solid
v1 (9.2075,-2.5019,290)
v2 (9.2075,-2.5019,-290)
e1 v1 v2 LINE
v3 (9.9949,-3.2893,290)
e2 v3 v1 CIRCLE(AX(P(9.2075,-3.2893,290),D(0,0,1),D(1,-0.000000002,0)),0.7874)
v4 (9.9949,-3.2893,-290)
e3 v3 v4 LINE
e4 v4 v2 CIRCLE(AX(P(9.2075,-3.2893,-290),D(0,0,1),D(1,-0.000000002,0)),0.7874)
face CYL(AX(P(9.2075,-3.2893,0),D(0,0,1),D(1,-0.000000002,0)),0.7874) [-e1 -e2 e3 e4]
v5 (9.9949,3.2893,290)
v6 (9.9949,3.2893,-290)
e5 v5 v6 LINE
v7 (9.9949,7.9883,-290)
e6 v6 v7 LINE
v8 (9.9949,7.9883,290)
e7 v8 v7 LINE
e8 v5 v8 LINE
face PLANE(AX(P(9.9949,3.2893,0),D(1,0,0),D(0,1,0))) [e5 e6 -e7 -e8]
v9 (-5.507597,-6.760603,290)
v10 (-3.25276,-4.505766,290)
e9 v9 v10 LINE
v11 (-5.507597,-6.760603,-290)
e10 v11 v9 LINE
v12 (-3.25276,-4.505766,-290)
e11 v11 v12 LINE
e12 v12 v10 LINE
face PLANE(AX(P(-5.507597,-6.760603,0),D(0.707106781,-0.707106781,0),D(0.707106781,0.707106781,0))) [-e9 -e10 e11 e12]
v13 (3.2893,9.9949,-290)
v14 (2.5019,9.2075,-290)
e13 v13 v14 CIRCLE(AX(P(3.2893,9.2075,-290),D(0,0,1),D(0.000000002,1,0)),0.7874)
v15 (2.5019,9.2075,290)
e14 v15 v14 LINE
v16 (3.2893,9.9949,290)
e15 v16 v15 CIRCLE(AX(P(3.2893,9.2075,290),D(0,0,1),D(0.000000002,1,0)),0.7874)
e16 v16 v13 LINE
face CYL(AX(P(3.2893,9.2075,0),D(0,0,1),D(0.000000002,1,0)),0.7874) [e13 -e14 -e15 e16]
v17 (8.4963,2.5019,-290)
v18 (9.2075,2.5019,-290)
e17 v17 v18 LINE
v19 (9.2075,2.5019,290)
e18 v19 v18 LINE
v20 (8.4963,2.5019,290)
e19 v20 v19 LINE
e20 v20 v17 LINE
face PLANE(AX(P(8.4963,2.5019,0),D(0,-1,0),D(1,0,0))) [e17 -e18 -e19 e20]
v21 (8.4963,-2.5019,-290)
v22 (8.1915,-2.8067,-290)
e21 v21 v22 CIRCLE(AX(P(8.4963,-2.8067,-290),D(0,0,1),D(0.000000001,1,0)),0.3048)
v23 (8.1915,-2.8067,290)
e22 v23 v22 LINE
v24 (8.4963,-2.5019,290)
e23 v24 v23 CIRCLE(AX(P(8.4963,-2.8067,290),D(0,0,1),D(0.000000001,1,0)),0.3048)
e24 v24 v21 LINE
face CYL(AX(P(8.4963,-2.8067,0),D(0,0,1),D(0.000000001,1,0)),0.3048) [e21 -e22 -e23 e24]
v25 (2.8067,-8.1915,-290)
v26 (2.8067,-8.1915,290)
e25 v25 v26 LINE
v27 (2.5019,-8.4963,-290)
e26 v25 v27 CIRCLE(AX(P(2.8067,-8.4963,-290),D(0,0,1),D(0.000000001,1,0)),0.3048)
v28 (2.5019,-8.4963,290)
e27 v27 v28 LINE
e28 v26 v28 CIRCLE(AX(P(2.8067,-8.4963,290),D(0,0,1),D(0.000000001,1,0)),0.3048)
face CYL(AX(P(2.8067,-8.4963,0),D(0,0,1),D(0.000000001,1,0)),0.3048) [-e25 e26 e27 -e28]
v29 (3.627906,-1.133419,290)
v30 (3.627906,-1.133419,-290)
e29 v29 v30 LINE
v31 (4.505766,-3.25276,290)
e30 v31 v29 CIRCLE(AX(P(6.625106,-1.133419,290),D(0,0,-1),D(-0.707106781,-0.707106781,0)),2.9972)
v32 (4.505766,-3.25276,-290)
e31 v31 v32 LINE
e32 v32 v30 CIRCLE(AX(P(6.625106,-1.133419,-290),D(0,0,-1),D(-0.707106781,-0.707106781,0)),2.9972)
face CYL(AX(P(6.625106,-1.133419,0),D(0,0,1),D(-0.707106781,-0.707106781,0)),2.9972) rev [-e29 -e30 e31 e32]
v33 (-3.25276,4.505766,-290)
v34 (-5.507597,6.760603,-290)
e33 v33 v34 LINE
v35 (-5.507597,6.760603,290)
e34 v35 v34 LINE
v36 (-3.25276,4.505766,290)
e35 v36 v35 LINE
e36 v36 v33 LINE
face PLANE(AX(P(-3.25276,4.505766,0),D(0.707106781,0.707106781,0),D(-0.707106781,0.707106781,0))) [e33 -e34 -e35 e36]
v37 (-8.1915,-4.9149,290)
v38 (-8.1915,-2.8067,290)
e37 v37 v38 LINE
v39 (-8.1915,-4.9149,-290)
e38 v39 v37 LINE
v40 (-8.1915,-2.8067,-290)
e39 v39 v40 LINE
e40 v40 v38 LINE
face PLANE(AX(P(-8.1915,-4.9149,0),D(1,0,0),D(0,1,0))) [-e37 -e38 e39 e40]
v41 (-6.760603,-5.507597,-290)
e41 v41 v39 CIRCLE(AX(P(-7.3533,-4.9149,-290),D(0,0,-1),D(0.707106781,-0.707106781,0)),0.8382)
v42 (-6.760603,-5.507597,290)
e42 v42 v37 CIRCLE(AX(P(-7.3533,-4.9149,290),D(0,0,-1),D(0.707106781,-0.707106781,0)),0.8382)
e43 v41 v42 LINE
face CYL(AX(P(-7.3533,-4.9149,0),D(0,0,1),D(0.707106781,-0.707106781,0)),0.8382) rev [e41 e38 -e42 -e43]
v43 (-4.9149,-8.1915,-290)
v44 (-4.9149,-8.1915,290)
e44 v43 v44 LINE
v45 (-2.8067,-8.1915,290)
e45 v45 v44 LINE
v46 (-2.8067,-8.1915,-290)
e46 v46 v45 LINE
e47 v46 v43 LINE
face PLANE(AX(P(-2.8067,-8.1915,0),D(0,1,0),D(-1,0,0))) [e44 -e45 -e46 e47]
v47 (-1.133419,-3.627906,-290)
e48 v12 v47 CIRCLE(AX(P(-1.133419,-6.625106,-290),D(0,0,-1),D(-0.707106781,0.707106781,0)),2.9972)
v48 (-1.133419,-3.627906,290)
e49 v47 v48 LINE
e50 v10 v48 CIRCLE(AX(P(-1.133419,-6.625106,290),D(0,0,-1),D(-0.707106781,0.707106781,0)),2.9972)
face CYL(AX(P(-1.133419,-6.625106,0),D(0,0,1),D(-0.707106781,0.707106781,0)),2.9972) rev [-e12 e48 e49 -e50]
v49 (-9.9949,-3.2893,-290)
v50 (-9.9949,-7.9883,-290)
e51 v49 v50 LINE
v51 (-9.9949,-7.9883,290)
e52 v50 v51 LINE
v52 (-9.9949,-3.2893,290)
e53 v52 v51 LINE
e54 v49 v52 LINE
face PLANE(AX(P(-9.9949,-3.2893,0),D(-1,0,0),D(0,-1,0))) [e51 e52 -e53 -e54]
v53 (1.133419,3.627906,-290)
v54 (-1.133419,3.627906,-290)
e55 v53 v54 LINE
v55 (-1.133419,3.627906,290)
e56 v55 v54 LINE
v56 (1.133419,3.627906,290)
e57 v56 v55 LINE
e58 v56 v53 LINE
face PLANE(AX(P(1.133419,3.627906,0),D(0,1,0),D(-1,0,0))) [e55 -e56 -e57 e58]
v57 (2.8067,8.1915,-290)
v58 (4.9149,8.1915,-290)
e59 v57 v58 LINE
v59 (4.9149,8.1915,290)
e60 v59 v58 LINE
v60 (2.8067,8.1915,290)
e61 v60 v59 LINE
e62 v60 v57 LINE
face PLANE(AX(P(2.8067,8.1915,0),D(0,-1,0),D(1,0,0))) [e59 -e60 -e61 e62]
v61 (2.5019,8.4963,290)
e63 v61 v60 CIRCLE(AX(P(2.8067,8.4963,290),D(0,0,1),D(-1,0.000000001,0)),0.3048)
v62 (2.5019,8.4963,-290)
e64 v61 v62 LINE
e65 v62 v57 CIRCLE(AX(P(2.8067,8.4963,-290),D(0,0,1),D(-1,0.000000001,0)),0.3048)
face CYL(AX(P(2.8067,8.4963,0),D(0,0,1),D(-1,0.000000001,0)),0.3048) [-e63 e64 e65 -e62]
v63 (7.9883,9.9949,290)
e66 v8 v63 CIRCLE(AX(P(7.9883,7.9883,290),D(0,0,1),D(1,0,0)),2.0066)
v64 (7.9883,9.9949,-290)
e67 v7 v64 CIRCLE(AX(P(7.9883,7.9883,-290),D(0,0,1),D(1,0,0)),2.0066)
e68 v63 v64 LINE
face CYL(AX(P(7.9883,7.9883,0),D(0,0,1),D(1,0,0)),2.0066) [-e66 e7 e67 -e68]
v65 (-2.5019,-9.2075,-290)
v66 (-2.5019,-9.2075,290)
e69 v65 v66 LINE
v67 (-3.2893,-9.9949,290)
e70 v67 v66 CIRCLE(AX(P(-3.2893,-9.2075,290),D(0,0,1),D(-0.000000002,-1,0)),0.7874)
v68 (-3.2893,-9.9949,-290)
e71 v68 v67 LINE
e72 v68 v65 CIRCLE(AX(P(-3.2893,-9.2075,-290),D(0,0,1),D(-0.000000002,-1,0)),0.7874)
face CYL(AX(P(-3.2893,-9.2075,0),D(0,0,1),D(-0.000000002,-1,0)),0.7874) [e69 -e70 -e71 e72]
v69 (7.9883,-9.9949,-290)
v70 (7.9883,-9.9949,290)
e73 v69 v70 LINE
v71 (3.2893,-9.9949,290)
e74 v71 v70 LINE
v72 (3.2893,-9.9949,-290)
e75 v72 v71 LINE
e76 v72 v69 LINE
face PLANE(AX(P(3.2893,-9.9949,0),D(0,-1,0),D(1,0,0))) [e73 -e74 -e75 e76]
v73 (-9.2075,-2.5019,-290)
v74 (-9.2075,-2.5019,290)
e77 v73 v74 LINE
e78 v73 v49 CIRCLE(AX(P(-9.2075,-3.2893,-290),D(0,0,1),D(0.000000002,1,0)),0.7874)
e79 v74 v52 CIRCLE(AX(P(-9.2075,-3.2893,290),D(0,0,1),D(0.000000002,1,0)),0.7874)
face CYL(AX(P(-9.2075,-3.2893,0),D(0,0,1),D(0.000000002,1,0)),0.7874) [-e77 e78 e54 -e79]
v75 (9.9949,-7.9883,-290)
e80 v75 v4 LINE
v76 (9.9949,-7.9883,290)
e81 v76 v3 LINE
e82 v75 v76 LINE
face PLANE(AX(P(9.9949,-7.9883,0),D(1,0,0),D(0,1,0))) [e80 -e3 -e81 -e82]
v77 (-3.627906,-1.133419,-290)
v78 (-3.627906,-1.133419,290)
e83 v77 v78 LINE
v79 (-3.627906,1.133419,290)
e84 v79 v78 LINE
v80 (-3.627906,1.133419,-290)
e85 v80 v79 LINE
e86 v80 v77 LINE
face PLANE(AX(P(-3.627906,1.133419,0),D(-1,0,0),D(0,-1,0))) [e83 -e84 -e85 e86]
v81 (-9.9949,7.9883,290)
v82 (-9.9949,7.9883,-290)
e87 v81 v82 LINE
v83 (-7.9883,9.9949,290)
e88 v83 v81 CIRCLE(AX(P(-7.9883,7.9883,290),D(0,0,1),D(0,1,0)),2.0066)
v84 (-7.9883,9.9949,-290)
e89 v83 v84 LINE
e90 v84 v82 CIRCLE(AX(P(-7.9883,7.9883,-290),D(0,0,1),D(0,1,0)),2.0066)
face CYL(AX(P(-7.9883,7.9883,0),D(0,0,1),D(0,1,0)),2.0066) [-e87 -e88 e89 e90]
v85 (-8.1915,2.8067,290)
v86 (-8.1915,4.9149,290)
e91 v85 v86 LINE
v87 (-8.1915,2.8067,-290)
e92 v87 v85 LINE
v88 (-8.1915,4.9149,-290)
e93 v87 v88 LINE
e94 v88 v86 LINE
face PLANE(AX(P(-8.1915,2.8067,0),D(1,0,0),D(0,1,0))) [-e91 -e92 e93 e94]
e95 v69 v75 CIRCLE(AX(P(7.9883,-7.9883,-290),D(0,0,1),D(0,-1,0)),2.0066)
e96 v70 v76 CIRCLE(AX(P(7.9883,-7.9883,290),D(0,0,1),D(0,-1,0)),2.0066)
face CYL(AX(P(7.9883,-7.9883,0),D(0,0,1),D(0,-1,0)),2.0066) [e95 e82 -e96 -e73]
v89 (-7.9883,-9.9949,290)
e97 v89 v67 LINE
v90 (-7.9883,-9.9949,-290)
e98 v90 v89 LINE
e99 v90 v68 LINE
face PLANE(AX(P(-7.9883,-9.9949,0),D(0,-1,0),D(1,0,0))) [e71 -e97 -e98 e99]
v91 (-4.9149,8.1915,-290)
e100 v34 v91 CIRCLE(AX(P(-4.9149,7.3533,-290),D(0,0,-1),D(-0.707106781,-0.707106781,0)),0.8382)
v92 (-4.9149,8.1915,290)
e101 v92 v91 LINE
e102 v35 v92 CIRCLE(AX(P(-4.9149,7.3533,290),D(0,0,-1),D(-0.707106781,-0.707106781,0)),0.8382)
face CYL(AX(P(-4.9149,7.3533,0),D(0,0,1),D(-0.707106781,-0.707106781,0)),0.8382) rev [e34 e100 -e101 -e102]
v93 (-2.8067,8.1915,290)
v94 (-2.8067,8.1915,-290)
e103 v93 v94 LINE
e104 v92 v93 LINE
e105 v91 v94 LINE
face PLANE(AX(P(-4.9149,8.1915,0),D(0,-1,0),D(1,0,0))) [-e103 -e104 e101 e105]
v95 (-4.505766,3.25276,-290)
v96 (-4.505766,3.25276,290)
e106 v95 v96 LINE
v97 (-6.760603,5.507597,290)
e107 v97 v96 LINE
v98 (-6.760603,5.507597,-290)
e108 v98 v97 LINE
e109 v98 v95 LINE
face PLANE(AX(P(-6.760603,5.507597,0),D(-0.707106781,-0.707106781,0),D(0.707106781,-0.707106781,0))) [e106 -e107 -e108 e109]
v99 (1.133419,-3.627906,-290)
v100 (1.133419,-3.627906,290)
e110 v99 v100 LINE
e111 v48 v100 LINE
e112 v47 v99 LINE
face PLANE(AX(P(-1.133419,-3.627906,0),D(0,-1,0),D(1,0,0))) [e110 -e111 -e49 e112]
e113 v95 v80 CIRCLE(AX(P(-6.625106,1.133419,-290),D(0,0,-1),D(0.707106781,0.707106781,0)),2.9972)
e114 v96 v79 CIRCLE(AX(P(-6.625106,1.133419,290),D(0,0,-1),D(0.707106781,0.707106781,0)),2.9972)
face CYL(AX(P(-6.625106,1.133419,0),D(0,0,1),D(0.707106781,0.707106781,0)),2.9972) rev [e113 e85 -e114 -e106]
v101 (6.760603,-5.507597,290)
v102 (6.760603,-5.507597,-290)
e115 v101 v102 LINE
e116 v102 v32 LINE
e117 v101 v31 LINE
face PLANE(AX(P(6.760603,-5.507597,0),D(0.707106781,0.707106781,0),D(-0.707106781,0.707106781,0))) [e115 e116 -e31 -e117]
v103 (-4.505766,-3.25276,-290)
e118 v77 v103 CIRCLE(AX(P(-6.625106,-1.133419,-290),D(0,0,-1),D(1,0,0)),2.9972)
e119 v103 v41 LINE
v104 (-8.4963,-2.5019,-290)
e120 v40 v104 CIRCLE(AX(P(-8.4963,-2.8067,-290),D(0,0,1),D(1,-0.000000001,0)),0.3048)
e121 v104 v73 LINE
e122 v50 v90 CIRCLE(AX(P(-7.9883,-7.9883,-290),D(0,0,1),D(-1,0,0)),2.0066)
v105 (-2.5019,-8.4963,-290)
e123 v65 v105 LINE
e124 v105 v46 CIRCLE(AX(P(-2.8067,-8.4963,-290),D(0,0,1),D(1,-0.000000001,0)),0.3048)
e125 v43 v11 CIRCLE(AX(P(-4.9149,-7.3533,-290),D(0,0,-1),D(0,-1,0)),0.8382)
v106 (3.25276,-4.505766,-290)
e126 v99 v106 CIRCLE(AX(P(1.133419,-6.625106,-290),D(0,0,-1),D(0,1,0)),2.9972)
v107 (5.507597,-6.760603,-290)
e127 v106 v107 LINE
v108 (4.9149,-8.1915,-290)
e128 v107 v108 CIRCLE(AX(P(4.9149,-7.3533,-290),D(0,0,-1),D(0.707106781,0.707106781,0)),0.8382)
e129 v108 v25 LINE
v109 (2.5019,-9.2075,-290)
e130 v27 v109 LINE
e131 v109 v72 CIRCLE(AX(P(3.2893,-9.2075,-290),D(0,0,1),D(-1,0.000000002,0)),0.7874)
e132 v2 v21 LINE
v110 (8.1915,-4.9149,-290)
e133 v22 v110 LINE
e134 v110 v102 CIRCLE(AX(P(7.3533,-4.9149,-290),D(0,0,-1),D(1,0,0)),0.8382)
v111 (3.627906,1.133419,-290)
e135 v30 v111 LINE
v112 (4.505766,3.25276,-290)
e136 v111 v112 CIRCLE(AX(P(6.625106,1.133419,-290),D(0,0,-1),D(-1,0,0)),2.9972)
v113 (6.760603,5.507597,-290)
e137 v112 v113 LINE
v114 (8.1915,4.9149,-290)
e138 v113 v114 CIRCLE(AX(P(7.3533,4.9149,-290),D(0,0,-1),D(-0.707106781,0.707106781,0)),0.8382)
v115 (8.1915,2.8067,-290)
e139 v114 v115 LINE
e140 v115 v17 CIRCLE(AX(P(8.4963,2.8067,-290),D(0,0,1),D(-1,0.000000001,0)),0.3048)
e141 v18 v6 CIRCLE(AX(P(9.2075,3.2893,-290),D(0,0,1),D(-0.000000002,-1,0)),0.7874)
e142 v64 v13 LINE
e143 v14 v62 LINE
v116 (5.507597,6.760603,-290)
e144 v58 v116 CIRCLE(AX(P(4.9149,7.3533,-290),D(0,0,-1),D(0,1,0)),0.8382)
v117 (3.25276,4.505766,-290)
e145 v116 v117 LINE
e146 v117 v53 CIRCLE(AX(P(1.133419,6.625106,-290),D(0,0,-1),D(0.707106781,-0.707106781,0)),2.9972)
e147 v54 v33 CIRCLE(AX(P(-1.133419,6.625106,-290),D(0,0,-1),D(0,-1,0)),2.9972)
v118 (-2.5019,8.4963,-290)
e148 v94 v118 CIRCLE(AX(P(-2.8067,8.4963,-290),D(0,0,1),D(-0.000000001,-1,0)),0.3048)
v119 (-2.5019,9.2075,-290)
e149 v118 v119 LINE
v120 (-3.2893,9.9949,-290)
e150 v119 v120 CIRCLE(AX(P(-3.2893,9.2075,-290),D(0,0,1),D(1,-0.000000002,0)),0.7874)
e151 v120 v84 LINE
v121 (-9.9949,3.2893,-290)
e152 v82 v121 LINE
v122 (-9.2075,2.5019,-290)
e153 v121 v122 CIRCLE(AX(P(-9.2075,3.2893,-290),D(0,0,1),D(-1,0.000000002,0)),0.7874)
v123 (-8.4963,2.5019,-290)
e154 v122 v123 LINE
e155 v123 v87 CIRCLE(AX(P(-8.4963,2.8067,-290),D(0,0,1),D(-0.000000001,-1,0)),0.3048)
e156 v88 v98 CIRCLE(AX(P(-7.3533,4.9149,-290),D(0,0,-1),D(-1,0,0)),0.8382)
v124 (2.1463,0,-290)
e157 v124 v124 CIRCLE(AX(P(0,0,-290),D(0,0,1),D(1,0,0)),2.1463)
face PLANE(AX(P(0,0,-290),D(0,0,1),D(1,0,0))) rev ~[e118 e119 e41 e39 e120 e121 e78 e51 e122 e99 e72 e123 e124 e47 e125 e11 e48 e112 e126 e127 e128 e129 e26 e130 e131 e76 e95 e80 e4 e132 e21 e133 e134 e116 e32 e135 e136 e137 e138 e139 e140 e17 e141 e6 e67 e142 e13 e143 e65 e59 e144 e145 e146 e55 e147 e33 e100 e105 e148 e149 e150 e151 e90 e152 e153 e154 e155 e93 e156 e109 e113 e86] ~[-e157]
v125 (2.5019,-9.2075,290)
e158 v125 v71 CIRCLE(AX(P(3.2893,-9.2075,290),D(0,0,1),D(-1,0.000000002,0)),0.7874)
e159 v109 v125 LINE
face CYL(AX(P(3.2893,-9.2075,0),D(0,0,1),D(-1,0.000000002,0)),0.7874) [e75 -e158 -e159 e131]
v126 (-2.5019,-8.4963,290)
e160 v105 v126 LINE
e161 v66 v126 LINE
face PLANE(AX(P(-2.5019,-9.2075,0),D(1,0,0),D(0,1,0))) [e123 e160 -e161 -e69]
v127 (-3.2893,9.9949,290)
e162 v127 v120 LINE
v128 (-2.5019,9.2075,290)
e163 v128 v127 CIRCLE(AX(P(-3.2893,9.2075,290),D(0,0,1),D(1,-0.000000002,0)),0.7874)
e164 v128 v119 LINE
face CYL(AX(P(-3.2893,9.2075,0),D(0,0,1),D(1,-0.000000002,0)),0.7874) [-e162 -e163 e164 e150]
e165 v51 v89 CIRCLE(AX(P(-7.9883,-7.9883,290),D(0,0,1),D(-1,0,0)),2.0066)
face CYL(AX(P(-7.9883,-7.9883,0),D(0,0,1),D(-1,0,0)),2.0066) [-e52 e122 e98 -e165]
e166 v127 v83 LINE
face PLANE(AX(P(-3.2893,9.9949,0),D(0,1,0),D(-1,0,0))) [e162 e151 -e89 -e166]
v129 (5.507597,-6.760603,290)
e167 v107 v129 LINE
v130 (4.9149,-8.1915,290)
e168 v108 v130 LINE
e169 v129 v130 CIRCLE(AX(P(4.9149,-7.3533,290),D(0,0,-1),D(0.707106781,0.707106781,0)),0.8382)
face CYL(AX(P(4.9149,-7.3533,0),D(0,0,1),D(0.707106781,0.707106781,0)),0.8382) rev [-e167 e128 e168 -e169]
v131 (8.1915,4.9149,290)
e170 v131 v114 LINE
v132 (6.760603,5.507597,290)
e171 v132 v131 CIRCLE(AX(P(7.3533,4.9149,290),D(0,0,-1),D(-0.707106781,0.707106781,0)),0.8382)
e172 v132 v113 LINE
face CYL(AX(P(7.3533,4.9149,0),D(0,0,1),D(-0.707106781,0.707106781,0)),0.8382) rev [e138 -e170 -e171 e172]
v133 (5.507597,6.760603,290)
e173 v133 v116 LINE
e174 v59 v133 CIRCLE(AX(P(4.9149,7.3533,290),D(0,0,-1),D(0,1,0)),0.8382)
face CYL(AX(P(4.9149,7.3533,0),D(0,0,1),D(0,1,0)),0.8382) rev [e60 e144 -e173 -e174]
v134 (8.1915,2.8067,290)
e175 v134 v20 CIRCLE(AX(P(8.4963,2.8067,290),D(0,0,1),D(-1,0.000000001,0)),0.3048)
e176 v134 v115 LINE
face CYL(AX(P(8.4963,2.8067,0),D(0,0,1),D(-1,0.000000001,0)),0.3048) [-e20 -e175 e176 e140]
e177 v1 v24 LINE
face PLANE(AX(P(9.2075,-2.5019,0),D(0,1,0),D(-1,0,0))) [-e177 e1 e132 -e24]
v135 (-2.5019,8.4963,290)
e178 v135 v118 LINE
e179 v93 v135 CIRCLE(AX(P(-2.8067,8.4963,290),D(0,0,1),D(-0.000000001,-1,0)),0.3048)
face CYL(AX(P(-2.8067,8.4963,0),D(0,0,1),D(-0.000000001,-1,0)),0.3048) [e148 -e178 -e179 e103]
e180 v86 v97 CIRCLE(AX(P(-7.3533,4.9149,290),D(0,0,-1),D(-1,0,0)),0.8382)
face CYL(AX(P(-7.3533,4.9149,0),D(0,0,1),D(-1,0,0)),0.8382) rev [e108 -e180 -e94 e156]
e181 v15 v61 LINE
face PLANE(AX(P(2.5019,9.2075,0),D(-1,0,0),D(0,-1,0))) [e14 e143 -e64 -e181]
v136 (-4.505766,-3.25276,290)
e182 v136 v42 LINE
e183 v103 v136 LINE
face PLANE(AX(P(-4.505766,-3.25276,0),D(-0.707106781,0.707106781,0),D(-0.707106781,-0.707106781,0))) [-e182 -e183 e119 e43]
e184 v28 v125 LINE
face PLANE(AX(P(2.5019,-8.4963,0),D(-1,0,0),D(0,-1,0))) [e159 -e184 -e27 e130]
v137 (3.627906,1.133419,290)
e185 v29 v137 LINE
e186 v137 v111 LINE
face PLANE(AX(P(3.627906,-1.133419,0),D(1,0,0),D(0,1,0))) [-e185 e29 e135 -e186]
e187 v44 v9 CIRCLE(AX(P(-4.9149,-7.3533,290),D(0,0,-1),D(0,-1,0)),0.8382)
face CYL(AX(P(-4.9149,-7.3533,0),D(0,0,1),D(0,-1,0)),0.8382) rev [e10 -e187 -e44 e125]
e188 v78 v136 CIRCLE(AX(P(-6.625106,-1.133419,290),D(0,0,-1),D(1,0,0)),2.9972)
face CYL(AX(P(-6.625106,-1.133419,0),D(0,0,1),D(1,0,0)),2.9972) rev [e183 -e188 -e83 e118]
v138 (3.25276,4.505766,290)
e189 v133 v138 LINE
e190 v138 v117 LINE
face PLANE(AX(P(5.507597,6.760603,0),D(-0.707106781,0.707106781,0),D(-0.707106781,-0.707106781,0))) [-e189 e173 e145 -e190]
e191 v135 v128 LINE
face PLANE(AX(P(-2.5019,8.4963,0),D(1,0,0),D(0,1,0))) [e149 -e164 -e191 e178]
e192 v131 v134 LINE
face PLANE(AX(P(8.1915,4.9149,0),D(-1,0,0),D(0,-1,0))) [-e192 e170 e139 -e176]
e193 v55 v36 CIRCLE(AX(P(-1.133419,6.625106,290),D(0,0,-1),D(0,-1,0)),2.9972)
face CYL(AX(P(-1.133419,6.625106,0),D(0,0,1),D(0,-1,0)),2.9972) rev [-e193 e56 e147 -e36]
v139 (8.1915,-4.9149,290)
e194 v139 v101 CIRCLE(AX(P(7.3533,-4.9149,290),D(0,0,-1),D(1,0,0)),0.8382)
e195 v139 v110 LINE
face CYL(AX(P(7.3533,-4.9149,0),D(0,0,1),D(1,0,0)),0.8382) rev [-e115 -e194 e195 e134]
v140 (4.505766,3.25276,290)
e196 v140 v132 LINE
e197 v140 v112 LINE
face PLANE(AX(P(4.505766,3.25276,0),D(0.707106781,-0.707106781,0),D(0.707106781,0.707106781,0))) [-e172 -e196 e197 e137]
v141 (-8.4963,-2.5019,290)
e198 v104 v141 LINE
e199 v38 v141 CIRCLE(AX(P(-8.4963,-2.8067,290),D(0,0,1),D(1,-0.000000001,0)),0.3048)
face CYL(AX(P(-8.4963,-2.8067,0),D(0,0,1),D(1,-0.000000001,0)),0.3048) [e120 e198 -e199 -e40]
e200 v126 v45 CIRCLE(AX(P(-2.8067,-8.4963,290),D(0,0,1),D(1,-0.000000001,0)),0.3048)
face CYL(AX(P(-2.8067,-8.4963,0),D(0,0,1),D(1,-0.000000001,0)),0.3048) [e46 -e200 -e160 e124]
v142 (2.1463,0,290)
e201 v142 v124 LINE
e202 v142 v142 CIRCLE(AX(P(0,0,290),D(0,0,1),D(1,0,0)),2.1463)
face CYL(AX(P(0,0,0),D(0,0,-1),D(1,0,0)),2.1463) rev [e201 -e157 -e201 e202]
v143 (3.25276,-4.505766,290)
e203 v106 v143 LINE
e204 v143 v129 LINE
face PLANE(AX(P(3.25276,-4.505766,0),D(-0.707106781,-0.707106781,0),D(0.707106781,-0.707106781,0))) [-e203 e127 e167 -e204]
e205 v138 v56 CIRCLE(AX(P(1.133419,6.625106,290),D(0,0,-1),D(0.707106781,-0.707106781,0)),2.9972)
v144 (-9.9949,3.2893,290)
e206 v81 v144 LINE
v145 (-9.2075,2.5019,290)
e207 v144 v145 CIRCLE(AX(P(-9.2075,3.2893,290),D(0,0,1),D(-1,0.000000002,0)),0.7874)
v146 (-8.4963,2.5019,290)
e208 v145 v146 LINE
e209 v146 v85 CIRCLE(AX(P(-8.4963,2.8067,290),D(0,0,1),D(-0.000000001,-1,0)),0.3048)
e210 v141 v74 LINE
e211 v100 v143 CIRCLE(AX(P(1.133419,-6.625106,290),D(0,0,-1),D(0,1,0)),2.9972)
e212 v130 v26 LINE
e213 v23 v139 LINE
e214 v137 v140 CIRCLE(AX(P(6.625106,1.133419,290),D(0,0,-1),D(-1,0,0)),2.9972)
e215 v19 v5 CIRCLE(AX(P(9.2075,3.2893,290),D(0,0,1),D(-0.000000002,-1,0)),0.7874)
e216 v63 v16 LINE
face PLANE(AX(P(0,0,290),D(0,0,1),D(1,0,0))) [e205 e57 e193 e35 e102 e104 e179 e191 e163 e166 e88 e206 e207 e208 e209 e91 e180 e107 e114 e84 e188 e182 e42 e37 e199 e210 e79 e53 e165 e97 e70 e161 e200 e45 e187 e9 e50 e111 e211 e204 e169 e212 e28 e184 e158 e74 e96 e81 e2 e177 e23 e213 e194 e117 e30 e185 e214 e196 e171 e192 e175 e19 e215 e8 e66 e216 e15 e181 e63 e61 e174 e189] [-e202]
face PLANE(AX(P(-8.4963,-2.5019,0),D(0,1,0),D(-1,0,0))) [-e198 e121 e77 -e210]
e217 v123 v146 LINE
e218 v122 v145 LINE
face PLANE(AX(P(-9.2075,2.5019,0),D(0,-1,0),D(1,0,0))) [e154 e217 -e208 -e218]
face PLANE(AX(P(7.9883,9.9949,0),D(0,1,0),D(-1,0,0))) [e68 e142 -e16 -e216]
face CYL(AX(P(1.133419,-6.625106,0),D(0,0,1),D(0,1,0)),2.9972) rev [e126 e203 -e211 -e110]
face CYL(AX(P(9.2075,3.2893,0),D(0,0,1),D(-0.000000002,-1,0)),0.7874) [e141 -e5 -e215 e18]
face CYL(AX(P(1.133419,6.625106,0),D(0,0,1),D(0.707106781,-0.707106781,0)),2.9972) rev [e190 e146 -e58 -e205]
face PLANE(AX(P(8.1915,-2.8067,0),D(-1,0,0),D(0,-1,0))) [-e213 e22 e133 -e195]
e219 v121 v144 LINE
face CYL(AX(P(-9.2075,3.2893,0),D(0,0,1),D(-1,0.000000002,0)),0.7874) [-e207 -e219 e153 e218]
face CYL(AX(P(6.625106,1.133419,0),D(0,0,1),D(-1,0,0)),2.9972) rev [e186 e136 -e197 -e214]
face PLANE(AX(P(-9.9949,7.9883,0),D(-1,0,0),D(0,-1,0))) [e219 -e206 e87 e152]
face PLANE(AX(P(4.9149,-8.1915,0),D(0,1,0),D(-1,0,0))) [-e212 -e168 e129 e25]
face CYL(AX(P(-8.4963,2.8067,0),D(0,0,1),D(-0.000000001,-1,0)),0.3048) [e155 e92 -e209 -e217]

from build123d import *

# Parameters (mm, degrees)
SKETCH1_R           = 2.1463
BOSS_EXTRUDE1_DEPTH = 290


with BuildPart() as part:
    # Sketch1 → Boss-Extrude1 (new body, symmetric)
    with BuildSketch(Plane.XY):
        with BuildLine():
            Line((-9.9949, 7.9883), (-9.9949, 3.2893))
            ThreePointArc((-9.9949, 3.2893), (-9.76427588, 2.73252412), (-9.2075, 2.5019))
            Line((-9.2075, 2.5019), (-8.4963, 2.5019))
            ThreePointArc((-8.4963, 2.5019), (-8.280773853, 2.591173853), (-8.1915, 2.8067))
            Line((-8.1915, 2.8067), (-8.1915, 4.9149))
            ThreePointArc((-8.1915, 4.9149), (-7.674065253, 5.689295824), (-6.760603096, 5.507596904))
            Line((-6.760603096, 5.507596904), (-4.505765747, 3.252759555))
            ThreePointArc((-4.505765747, 3.252759555), (-3.856054457, 2.280397894), (-3.627906192, 1.133419111))
            Line((-3.627906192, 1.133419111), (-3.627906192, -1.133419111))
            ThreePointArc((-3.627906192, -1.133419111), (-3.856054457, -2.280397894), (-4.505765747, -3.252759555))
            Line((-4.505765747, -3.252759555), (-6.760603096, -5.507596904))
            ThreePointArc((-6.760603096, -5.507596904), (-7.674065253, -5.689295824), (-8.1915, -4.9149))
            Line((-8.1915, -4.9149), (-8.1915, -2.8067))
            ThreePointArc((-8.1915, -2.8067), (-8.280773853, -2.591173853), (-8.4963, -2.5019))
            Line((-8.4963, -2.5019), (-9.2075, -2.5019))
            ThreePointArc((-9.2075, -2.5019), (-9.76427588, -2.73252412), (-9.9949, -3.2893))
            Line((-9.9949, -3.2893), (-9.9949, -7.9883))
            ThreePointArc((-9.9949, -7.9883), (-9.407180467, -9.407180467), (-7.9883, -9.9949))
            Line((-7.9883, -9.9949), (-3.2893, -9.9949))
            ThreePointArc((-3.2893, -9.9949), (-2.73252412, -9.76427588), (-2.5019, -9.2075))
            Line((-2.5019, -9.2075), (-2.5019, -8.4963))
            ThreePointArc((-2.5019, -8.4963), (-2.591173853, -8.280773853), (-2.8067, -8.1915))
            Line((-2.8067, -8.1915), (-4.9149, -8.1915))
            ThreePointArc((-4.9149, -8.1915), (-5.689295824, -7.674065253), (-5.507596904, -6.760603096))
            Line((-5.507596904, -6.760603096), (-3.252759555, -4.505765747))
            ThreePointArc((-3.252759555, -4.505765747), (-2.280397894, -3.856054457), (-1.133419111, -3.627906192))
            Line((-1.133419111, -3.627906192), (1.133419111, -3.627906192))
            ThreePointArc((1.133419111, -3.627906192), (2.280397894, -3.856054457), (3.252759555, -4.505765747))
            Line((3.252759555, -4.505765747), (5.507596904, -6.760603096))
            ThreePointArc((5.507596904, -6.760603096), (5.689295824, -7.674065253), (4.9149, -8.1915))
            Line((4.9149, -8.1915), (2.8067, -8.1915))
            ThreePointArc((2.8067, -8.1915), (2.591173853, -8.280773853), (2.5019, -8.4963))
            Line((2.5019, -8.4963), (2.5019, -9.2075))
            ThreePointArc((2.5019, -9.2075), (2.73252412, -9.76427588), (3.2893, -9.9949))
            Line((3.2893, -9.9949), (7.9883, -9.9949))
            ThreePointArc((7.9883, -9.9949), (9.407180467, -9.407180467), (9.9949, -7.9883))
            Line((9.9949, -7.9883), (9.9949, -3.2893))
            ThreePointArc((9.9949, -3.2893), (9.76427588, -2.73252412), (9.2075, -2.5019))
            Line((9.2075, -2.5019), (8.4963, -2.5019))
            ThreePointArc((8.4963, -2.5019), (8.280773853, -2.591173853), (8.1915, -2.8067))
            Line((8.1915, -2.8067), (8.1915, -4.9149))
            ThreePointArc((8.1915, -4.9149), (7.674065253, -5.689295824), (6.760603096, -5.507596904))
            Line((6.760603096, -5.507596904), (4.505765747, -3.252759555))
            ThreePointArc((4.505765747, -3.252759555), (3.856054457, -2.280397894), (3.627906192, -1.133419111))
            Line((3.627906192, -1.133419111), (3.627906192, 1.133419111))
            ThreePointArc((3.627906192, 1.133419111), (3.856054457, 2.280397894), (4.505765747, 3.252759555))
            Line((4.505765747, 3.252759555), (6.760603096, 5.507596904))
            ThreePointArc((6.760603096, 5.507596904), (7.674065253, 5.689295824), (8.1915, 4.9149))
            Line((8.1915, 4.9149), (8.1915, 2.8067))
            ThreePointArc((8.1915, 2.8067), (8.280773853, 2.591173853), (8.4963, 2.5019))
            Line((8.4963, 2.5019), (9.2075, 2.5019))
            ThreePointArc((9.2075, 2.5019), (9.76427588, 2.73252412), (9.9949, 3.2893))
            Line((9.9949, 3.2893), (9.9949, 7.9883))
            ThreePointArc((9.9949, 7.9883), (9.407180467, 9.407180467), (7.9883, 9.9949))
            Line((7.9883, 9.9949), (3.2893, 9.9949))
            ThreePointArc((3.2893, 9.9949), (2.73252412, 9.76427588), (2.5019, 9.2075))
            Line((2.5019, 9.2075), (2.5019, 8.4963))
            ThreePointArc((2.5019, 8.4963), (2.591173853, 8.280773853), (2.8067, 8.1915))
            Line((2.8067, 8.1915), (4.9149, 8.1915))
            ThreePointArc((4.9149, 8.1915), (5.689295824, 7.674065253), (5.507596904, 6.760603096))
            Line((5.507596904, 6.760603096), (3.252759555, 4.505765747))
            ThreePointArc((3.252759555, 4.505765747), (2.280397894, 3.856054457), (1.133419111, 3.627906192))
            Line((1.133419111, 3.627906192), (-1.133419111, 3.627906192))
            ThreePointArc((-1.133419111, 3.627906192), (-2.280397894, 3.856054457), (-3.252759555, 4.505765747))
            Line((-3.252759555, 4.505765747), (-5.507596904, 6.760603096))
            ThreePointArc((-5.507596904, 6.760603096), (-5.689295824, 7.674065253), (-4.9149, 8.1915))
            Line((-4.9149, 8.1915), (-2.8067, 8.1915))
            ThreePointArc((-2.8067, 8.1915), (-2.591173853, 8.280773853), (-2.5019, 8.4963))
            Line((-2.5019, 8.4963), (-2.5019, 9.2075))
            ThreePointArc((-2.5019, 9.2075), (-2.73252412, 9.76427588), (-3.2893, 9.9949))
            Line((-3.2893, 9.9949), (-7.9883, 9.9949))
            ThreePointArc((-7.9883, 9.9949), (-9.407180467, 9.407180467), (-9.9949, 7.9883))
        make_face()
        Circle(SKETCH1_R, mode=Mode.SUBTRACT)
    extrude(amount=BOSS_EXTRUDE1_DEPTH, both=True)


solid = part.part
